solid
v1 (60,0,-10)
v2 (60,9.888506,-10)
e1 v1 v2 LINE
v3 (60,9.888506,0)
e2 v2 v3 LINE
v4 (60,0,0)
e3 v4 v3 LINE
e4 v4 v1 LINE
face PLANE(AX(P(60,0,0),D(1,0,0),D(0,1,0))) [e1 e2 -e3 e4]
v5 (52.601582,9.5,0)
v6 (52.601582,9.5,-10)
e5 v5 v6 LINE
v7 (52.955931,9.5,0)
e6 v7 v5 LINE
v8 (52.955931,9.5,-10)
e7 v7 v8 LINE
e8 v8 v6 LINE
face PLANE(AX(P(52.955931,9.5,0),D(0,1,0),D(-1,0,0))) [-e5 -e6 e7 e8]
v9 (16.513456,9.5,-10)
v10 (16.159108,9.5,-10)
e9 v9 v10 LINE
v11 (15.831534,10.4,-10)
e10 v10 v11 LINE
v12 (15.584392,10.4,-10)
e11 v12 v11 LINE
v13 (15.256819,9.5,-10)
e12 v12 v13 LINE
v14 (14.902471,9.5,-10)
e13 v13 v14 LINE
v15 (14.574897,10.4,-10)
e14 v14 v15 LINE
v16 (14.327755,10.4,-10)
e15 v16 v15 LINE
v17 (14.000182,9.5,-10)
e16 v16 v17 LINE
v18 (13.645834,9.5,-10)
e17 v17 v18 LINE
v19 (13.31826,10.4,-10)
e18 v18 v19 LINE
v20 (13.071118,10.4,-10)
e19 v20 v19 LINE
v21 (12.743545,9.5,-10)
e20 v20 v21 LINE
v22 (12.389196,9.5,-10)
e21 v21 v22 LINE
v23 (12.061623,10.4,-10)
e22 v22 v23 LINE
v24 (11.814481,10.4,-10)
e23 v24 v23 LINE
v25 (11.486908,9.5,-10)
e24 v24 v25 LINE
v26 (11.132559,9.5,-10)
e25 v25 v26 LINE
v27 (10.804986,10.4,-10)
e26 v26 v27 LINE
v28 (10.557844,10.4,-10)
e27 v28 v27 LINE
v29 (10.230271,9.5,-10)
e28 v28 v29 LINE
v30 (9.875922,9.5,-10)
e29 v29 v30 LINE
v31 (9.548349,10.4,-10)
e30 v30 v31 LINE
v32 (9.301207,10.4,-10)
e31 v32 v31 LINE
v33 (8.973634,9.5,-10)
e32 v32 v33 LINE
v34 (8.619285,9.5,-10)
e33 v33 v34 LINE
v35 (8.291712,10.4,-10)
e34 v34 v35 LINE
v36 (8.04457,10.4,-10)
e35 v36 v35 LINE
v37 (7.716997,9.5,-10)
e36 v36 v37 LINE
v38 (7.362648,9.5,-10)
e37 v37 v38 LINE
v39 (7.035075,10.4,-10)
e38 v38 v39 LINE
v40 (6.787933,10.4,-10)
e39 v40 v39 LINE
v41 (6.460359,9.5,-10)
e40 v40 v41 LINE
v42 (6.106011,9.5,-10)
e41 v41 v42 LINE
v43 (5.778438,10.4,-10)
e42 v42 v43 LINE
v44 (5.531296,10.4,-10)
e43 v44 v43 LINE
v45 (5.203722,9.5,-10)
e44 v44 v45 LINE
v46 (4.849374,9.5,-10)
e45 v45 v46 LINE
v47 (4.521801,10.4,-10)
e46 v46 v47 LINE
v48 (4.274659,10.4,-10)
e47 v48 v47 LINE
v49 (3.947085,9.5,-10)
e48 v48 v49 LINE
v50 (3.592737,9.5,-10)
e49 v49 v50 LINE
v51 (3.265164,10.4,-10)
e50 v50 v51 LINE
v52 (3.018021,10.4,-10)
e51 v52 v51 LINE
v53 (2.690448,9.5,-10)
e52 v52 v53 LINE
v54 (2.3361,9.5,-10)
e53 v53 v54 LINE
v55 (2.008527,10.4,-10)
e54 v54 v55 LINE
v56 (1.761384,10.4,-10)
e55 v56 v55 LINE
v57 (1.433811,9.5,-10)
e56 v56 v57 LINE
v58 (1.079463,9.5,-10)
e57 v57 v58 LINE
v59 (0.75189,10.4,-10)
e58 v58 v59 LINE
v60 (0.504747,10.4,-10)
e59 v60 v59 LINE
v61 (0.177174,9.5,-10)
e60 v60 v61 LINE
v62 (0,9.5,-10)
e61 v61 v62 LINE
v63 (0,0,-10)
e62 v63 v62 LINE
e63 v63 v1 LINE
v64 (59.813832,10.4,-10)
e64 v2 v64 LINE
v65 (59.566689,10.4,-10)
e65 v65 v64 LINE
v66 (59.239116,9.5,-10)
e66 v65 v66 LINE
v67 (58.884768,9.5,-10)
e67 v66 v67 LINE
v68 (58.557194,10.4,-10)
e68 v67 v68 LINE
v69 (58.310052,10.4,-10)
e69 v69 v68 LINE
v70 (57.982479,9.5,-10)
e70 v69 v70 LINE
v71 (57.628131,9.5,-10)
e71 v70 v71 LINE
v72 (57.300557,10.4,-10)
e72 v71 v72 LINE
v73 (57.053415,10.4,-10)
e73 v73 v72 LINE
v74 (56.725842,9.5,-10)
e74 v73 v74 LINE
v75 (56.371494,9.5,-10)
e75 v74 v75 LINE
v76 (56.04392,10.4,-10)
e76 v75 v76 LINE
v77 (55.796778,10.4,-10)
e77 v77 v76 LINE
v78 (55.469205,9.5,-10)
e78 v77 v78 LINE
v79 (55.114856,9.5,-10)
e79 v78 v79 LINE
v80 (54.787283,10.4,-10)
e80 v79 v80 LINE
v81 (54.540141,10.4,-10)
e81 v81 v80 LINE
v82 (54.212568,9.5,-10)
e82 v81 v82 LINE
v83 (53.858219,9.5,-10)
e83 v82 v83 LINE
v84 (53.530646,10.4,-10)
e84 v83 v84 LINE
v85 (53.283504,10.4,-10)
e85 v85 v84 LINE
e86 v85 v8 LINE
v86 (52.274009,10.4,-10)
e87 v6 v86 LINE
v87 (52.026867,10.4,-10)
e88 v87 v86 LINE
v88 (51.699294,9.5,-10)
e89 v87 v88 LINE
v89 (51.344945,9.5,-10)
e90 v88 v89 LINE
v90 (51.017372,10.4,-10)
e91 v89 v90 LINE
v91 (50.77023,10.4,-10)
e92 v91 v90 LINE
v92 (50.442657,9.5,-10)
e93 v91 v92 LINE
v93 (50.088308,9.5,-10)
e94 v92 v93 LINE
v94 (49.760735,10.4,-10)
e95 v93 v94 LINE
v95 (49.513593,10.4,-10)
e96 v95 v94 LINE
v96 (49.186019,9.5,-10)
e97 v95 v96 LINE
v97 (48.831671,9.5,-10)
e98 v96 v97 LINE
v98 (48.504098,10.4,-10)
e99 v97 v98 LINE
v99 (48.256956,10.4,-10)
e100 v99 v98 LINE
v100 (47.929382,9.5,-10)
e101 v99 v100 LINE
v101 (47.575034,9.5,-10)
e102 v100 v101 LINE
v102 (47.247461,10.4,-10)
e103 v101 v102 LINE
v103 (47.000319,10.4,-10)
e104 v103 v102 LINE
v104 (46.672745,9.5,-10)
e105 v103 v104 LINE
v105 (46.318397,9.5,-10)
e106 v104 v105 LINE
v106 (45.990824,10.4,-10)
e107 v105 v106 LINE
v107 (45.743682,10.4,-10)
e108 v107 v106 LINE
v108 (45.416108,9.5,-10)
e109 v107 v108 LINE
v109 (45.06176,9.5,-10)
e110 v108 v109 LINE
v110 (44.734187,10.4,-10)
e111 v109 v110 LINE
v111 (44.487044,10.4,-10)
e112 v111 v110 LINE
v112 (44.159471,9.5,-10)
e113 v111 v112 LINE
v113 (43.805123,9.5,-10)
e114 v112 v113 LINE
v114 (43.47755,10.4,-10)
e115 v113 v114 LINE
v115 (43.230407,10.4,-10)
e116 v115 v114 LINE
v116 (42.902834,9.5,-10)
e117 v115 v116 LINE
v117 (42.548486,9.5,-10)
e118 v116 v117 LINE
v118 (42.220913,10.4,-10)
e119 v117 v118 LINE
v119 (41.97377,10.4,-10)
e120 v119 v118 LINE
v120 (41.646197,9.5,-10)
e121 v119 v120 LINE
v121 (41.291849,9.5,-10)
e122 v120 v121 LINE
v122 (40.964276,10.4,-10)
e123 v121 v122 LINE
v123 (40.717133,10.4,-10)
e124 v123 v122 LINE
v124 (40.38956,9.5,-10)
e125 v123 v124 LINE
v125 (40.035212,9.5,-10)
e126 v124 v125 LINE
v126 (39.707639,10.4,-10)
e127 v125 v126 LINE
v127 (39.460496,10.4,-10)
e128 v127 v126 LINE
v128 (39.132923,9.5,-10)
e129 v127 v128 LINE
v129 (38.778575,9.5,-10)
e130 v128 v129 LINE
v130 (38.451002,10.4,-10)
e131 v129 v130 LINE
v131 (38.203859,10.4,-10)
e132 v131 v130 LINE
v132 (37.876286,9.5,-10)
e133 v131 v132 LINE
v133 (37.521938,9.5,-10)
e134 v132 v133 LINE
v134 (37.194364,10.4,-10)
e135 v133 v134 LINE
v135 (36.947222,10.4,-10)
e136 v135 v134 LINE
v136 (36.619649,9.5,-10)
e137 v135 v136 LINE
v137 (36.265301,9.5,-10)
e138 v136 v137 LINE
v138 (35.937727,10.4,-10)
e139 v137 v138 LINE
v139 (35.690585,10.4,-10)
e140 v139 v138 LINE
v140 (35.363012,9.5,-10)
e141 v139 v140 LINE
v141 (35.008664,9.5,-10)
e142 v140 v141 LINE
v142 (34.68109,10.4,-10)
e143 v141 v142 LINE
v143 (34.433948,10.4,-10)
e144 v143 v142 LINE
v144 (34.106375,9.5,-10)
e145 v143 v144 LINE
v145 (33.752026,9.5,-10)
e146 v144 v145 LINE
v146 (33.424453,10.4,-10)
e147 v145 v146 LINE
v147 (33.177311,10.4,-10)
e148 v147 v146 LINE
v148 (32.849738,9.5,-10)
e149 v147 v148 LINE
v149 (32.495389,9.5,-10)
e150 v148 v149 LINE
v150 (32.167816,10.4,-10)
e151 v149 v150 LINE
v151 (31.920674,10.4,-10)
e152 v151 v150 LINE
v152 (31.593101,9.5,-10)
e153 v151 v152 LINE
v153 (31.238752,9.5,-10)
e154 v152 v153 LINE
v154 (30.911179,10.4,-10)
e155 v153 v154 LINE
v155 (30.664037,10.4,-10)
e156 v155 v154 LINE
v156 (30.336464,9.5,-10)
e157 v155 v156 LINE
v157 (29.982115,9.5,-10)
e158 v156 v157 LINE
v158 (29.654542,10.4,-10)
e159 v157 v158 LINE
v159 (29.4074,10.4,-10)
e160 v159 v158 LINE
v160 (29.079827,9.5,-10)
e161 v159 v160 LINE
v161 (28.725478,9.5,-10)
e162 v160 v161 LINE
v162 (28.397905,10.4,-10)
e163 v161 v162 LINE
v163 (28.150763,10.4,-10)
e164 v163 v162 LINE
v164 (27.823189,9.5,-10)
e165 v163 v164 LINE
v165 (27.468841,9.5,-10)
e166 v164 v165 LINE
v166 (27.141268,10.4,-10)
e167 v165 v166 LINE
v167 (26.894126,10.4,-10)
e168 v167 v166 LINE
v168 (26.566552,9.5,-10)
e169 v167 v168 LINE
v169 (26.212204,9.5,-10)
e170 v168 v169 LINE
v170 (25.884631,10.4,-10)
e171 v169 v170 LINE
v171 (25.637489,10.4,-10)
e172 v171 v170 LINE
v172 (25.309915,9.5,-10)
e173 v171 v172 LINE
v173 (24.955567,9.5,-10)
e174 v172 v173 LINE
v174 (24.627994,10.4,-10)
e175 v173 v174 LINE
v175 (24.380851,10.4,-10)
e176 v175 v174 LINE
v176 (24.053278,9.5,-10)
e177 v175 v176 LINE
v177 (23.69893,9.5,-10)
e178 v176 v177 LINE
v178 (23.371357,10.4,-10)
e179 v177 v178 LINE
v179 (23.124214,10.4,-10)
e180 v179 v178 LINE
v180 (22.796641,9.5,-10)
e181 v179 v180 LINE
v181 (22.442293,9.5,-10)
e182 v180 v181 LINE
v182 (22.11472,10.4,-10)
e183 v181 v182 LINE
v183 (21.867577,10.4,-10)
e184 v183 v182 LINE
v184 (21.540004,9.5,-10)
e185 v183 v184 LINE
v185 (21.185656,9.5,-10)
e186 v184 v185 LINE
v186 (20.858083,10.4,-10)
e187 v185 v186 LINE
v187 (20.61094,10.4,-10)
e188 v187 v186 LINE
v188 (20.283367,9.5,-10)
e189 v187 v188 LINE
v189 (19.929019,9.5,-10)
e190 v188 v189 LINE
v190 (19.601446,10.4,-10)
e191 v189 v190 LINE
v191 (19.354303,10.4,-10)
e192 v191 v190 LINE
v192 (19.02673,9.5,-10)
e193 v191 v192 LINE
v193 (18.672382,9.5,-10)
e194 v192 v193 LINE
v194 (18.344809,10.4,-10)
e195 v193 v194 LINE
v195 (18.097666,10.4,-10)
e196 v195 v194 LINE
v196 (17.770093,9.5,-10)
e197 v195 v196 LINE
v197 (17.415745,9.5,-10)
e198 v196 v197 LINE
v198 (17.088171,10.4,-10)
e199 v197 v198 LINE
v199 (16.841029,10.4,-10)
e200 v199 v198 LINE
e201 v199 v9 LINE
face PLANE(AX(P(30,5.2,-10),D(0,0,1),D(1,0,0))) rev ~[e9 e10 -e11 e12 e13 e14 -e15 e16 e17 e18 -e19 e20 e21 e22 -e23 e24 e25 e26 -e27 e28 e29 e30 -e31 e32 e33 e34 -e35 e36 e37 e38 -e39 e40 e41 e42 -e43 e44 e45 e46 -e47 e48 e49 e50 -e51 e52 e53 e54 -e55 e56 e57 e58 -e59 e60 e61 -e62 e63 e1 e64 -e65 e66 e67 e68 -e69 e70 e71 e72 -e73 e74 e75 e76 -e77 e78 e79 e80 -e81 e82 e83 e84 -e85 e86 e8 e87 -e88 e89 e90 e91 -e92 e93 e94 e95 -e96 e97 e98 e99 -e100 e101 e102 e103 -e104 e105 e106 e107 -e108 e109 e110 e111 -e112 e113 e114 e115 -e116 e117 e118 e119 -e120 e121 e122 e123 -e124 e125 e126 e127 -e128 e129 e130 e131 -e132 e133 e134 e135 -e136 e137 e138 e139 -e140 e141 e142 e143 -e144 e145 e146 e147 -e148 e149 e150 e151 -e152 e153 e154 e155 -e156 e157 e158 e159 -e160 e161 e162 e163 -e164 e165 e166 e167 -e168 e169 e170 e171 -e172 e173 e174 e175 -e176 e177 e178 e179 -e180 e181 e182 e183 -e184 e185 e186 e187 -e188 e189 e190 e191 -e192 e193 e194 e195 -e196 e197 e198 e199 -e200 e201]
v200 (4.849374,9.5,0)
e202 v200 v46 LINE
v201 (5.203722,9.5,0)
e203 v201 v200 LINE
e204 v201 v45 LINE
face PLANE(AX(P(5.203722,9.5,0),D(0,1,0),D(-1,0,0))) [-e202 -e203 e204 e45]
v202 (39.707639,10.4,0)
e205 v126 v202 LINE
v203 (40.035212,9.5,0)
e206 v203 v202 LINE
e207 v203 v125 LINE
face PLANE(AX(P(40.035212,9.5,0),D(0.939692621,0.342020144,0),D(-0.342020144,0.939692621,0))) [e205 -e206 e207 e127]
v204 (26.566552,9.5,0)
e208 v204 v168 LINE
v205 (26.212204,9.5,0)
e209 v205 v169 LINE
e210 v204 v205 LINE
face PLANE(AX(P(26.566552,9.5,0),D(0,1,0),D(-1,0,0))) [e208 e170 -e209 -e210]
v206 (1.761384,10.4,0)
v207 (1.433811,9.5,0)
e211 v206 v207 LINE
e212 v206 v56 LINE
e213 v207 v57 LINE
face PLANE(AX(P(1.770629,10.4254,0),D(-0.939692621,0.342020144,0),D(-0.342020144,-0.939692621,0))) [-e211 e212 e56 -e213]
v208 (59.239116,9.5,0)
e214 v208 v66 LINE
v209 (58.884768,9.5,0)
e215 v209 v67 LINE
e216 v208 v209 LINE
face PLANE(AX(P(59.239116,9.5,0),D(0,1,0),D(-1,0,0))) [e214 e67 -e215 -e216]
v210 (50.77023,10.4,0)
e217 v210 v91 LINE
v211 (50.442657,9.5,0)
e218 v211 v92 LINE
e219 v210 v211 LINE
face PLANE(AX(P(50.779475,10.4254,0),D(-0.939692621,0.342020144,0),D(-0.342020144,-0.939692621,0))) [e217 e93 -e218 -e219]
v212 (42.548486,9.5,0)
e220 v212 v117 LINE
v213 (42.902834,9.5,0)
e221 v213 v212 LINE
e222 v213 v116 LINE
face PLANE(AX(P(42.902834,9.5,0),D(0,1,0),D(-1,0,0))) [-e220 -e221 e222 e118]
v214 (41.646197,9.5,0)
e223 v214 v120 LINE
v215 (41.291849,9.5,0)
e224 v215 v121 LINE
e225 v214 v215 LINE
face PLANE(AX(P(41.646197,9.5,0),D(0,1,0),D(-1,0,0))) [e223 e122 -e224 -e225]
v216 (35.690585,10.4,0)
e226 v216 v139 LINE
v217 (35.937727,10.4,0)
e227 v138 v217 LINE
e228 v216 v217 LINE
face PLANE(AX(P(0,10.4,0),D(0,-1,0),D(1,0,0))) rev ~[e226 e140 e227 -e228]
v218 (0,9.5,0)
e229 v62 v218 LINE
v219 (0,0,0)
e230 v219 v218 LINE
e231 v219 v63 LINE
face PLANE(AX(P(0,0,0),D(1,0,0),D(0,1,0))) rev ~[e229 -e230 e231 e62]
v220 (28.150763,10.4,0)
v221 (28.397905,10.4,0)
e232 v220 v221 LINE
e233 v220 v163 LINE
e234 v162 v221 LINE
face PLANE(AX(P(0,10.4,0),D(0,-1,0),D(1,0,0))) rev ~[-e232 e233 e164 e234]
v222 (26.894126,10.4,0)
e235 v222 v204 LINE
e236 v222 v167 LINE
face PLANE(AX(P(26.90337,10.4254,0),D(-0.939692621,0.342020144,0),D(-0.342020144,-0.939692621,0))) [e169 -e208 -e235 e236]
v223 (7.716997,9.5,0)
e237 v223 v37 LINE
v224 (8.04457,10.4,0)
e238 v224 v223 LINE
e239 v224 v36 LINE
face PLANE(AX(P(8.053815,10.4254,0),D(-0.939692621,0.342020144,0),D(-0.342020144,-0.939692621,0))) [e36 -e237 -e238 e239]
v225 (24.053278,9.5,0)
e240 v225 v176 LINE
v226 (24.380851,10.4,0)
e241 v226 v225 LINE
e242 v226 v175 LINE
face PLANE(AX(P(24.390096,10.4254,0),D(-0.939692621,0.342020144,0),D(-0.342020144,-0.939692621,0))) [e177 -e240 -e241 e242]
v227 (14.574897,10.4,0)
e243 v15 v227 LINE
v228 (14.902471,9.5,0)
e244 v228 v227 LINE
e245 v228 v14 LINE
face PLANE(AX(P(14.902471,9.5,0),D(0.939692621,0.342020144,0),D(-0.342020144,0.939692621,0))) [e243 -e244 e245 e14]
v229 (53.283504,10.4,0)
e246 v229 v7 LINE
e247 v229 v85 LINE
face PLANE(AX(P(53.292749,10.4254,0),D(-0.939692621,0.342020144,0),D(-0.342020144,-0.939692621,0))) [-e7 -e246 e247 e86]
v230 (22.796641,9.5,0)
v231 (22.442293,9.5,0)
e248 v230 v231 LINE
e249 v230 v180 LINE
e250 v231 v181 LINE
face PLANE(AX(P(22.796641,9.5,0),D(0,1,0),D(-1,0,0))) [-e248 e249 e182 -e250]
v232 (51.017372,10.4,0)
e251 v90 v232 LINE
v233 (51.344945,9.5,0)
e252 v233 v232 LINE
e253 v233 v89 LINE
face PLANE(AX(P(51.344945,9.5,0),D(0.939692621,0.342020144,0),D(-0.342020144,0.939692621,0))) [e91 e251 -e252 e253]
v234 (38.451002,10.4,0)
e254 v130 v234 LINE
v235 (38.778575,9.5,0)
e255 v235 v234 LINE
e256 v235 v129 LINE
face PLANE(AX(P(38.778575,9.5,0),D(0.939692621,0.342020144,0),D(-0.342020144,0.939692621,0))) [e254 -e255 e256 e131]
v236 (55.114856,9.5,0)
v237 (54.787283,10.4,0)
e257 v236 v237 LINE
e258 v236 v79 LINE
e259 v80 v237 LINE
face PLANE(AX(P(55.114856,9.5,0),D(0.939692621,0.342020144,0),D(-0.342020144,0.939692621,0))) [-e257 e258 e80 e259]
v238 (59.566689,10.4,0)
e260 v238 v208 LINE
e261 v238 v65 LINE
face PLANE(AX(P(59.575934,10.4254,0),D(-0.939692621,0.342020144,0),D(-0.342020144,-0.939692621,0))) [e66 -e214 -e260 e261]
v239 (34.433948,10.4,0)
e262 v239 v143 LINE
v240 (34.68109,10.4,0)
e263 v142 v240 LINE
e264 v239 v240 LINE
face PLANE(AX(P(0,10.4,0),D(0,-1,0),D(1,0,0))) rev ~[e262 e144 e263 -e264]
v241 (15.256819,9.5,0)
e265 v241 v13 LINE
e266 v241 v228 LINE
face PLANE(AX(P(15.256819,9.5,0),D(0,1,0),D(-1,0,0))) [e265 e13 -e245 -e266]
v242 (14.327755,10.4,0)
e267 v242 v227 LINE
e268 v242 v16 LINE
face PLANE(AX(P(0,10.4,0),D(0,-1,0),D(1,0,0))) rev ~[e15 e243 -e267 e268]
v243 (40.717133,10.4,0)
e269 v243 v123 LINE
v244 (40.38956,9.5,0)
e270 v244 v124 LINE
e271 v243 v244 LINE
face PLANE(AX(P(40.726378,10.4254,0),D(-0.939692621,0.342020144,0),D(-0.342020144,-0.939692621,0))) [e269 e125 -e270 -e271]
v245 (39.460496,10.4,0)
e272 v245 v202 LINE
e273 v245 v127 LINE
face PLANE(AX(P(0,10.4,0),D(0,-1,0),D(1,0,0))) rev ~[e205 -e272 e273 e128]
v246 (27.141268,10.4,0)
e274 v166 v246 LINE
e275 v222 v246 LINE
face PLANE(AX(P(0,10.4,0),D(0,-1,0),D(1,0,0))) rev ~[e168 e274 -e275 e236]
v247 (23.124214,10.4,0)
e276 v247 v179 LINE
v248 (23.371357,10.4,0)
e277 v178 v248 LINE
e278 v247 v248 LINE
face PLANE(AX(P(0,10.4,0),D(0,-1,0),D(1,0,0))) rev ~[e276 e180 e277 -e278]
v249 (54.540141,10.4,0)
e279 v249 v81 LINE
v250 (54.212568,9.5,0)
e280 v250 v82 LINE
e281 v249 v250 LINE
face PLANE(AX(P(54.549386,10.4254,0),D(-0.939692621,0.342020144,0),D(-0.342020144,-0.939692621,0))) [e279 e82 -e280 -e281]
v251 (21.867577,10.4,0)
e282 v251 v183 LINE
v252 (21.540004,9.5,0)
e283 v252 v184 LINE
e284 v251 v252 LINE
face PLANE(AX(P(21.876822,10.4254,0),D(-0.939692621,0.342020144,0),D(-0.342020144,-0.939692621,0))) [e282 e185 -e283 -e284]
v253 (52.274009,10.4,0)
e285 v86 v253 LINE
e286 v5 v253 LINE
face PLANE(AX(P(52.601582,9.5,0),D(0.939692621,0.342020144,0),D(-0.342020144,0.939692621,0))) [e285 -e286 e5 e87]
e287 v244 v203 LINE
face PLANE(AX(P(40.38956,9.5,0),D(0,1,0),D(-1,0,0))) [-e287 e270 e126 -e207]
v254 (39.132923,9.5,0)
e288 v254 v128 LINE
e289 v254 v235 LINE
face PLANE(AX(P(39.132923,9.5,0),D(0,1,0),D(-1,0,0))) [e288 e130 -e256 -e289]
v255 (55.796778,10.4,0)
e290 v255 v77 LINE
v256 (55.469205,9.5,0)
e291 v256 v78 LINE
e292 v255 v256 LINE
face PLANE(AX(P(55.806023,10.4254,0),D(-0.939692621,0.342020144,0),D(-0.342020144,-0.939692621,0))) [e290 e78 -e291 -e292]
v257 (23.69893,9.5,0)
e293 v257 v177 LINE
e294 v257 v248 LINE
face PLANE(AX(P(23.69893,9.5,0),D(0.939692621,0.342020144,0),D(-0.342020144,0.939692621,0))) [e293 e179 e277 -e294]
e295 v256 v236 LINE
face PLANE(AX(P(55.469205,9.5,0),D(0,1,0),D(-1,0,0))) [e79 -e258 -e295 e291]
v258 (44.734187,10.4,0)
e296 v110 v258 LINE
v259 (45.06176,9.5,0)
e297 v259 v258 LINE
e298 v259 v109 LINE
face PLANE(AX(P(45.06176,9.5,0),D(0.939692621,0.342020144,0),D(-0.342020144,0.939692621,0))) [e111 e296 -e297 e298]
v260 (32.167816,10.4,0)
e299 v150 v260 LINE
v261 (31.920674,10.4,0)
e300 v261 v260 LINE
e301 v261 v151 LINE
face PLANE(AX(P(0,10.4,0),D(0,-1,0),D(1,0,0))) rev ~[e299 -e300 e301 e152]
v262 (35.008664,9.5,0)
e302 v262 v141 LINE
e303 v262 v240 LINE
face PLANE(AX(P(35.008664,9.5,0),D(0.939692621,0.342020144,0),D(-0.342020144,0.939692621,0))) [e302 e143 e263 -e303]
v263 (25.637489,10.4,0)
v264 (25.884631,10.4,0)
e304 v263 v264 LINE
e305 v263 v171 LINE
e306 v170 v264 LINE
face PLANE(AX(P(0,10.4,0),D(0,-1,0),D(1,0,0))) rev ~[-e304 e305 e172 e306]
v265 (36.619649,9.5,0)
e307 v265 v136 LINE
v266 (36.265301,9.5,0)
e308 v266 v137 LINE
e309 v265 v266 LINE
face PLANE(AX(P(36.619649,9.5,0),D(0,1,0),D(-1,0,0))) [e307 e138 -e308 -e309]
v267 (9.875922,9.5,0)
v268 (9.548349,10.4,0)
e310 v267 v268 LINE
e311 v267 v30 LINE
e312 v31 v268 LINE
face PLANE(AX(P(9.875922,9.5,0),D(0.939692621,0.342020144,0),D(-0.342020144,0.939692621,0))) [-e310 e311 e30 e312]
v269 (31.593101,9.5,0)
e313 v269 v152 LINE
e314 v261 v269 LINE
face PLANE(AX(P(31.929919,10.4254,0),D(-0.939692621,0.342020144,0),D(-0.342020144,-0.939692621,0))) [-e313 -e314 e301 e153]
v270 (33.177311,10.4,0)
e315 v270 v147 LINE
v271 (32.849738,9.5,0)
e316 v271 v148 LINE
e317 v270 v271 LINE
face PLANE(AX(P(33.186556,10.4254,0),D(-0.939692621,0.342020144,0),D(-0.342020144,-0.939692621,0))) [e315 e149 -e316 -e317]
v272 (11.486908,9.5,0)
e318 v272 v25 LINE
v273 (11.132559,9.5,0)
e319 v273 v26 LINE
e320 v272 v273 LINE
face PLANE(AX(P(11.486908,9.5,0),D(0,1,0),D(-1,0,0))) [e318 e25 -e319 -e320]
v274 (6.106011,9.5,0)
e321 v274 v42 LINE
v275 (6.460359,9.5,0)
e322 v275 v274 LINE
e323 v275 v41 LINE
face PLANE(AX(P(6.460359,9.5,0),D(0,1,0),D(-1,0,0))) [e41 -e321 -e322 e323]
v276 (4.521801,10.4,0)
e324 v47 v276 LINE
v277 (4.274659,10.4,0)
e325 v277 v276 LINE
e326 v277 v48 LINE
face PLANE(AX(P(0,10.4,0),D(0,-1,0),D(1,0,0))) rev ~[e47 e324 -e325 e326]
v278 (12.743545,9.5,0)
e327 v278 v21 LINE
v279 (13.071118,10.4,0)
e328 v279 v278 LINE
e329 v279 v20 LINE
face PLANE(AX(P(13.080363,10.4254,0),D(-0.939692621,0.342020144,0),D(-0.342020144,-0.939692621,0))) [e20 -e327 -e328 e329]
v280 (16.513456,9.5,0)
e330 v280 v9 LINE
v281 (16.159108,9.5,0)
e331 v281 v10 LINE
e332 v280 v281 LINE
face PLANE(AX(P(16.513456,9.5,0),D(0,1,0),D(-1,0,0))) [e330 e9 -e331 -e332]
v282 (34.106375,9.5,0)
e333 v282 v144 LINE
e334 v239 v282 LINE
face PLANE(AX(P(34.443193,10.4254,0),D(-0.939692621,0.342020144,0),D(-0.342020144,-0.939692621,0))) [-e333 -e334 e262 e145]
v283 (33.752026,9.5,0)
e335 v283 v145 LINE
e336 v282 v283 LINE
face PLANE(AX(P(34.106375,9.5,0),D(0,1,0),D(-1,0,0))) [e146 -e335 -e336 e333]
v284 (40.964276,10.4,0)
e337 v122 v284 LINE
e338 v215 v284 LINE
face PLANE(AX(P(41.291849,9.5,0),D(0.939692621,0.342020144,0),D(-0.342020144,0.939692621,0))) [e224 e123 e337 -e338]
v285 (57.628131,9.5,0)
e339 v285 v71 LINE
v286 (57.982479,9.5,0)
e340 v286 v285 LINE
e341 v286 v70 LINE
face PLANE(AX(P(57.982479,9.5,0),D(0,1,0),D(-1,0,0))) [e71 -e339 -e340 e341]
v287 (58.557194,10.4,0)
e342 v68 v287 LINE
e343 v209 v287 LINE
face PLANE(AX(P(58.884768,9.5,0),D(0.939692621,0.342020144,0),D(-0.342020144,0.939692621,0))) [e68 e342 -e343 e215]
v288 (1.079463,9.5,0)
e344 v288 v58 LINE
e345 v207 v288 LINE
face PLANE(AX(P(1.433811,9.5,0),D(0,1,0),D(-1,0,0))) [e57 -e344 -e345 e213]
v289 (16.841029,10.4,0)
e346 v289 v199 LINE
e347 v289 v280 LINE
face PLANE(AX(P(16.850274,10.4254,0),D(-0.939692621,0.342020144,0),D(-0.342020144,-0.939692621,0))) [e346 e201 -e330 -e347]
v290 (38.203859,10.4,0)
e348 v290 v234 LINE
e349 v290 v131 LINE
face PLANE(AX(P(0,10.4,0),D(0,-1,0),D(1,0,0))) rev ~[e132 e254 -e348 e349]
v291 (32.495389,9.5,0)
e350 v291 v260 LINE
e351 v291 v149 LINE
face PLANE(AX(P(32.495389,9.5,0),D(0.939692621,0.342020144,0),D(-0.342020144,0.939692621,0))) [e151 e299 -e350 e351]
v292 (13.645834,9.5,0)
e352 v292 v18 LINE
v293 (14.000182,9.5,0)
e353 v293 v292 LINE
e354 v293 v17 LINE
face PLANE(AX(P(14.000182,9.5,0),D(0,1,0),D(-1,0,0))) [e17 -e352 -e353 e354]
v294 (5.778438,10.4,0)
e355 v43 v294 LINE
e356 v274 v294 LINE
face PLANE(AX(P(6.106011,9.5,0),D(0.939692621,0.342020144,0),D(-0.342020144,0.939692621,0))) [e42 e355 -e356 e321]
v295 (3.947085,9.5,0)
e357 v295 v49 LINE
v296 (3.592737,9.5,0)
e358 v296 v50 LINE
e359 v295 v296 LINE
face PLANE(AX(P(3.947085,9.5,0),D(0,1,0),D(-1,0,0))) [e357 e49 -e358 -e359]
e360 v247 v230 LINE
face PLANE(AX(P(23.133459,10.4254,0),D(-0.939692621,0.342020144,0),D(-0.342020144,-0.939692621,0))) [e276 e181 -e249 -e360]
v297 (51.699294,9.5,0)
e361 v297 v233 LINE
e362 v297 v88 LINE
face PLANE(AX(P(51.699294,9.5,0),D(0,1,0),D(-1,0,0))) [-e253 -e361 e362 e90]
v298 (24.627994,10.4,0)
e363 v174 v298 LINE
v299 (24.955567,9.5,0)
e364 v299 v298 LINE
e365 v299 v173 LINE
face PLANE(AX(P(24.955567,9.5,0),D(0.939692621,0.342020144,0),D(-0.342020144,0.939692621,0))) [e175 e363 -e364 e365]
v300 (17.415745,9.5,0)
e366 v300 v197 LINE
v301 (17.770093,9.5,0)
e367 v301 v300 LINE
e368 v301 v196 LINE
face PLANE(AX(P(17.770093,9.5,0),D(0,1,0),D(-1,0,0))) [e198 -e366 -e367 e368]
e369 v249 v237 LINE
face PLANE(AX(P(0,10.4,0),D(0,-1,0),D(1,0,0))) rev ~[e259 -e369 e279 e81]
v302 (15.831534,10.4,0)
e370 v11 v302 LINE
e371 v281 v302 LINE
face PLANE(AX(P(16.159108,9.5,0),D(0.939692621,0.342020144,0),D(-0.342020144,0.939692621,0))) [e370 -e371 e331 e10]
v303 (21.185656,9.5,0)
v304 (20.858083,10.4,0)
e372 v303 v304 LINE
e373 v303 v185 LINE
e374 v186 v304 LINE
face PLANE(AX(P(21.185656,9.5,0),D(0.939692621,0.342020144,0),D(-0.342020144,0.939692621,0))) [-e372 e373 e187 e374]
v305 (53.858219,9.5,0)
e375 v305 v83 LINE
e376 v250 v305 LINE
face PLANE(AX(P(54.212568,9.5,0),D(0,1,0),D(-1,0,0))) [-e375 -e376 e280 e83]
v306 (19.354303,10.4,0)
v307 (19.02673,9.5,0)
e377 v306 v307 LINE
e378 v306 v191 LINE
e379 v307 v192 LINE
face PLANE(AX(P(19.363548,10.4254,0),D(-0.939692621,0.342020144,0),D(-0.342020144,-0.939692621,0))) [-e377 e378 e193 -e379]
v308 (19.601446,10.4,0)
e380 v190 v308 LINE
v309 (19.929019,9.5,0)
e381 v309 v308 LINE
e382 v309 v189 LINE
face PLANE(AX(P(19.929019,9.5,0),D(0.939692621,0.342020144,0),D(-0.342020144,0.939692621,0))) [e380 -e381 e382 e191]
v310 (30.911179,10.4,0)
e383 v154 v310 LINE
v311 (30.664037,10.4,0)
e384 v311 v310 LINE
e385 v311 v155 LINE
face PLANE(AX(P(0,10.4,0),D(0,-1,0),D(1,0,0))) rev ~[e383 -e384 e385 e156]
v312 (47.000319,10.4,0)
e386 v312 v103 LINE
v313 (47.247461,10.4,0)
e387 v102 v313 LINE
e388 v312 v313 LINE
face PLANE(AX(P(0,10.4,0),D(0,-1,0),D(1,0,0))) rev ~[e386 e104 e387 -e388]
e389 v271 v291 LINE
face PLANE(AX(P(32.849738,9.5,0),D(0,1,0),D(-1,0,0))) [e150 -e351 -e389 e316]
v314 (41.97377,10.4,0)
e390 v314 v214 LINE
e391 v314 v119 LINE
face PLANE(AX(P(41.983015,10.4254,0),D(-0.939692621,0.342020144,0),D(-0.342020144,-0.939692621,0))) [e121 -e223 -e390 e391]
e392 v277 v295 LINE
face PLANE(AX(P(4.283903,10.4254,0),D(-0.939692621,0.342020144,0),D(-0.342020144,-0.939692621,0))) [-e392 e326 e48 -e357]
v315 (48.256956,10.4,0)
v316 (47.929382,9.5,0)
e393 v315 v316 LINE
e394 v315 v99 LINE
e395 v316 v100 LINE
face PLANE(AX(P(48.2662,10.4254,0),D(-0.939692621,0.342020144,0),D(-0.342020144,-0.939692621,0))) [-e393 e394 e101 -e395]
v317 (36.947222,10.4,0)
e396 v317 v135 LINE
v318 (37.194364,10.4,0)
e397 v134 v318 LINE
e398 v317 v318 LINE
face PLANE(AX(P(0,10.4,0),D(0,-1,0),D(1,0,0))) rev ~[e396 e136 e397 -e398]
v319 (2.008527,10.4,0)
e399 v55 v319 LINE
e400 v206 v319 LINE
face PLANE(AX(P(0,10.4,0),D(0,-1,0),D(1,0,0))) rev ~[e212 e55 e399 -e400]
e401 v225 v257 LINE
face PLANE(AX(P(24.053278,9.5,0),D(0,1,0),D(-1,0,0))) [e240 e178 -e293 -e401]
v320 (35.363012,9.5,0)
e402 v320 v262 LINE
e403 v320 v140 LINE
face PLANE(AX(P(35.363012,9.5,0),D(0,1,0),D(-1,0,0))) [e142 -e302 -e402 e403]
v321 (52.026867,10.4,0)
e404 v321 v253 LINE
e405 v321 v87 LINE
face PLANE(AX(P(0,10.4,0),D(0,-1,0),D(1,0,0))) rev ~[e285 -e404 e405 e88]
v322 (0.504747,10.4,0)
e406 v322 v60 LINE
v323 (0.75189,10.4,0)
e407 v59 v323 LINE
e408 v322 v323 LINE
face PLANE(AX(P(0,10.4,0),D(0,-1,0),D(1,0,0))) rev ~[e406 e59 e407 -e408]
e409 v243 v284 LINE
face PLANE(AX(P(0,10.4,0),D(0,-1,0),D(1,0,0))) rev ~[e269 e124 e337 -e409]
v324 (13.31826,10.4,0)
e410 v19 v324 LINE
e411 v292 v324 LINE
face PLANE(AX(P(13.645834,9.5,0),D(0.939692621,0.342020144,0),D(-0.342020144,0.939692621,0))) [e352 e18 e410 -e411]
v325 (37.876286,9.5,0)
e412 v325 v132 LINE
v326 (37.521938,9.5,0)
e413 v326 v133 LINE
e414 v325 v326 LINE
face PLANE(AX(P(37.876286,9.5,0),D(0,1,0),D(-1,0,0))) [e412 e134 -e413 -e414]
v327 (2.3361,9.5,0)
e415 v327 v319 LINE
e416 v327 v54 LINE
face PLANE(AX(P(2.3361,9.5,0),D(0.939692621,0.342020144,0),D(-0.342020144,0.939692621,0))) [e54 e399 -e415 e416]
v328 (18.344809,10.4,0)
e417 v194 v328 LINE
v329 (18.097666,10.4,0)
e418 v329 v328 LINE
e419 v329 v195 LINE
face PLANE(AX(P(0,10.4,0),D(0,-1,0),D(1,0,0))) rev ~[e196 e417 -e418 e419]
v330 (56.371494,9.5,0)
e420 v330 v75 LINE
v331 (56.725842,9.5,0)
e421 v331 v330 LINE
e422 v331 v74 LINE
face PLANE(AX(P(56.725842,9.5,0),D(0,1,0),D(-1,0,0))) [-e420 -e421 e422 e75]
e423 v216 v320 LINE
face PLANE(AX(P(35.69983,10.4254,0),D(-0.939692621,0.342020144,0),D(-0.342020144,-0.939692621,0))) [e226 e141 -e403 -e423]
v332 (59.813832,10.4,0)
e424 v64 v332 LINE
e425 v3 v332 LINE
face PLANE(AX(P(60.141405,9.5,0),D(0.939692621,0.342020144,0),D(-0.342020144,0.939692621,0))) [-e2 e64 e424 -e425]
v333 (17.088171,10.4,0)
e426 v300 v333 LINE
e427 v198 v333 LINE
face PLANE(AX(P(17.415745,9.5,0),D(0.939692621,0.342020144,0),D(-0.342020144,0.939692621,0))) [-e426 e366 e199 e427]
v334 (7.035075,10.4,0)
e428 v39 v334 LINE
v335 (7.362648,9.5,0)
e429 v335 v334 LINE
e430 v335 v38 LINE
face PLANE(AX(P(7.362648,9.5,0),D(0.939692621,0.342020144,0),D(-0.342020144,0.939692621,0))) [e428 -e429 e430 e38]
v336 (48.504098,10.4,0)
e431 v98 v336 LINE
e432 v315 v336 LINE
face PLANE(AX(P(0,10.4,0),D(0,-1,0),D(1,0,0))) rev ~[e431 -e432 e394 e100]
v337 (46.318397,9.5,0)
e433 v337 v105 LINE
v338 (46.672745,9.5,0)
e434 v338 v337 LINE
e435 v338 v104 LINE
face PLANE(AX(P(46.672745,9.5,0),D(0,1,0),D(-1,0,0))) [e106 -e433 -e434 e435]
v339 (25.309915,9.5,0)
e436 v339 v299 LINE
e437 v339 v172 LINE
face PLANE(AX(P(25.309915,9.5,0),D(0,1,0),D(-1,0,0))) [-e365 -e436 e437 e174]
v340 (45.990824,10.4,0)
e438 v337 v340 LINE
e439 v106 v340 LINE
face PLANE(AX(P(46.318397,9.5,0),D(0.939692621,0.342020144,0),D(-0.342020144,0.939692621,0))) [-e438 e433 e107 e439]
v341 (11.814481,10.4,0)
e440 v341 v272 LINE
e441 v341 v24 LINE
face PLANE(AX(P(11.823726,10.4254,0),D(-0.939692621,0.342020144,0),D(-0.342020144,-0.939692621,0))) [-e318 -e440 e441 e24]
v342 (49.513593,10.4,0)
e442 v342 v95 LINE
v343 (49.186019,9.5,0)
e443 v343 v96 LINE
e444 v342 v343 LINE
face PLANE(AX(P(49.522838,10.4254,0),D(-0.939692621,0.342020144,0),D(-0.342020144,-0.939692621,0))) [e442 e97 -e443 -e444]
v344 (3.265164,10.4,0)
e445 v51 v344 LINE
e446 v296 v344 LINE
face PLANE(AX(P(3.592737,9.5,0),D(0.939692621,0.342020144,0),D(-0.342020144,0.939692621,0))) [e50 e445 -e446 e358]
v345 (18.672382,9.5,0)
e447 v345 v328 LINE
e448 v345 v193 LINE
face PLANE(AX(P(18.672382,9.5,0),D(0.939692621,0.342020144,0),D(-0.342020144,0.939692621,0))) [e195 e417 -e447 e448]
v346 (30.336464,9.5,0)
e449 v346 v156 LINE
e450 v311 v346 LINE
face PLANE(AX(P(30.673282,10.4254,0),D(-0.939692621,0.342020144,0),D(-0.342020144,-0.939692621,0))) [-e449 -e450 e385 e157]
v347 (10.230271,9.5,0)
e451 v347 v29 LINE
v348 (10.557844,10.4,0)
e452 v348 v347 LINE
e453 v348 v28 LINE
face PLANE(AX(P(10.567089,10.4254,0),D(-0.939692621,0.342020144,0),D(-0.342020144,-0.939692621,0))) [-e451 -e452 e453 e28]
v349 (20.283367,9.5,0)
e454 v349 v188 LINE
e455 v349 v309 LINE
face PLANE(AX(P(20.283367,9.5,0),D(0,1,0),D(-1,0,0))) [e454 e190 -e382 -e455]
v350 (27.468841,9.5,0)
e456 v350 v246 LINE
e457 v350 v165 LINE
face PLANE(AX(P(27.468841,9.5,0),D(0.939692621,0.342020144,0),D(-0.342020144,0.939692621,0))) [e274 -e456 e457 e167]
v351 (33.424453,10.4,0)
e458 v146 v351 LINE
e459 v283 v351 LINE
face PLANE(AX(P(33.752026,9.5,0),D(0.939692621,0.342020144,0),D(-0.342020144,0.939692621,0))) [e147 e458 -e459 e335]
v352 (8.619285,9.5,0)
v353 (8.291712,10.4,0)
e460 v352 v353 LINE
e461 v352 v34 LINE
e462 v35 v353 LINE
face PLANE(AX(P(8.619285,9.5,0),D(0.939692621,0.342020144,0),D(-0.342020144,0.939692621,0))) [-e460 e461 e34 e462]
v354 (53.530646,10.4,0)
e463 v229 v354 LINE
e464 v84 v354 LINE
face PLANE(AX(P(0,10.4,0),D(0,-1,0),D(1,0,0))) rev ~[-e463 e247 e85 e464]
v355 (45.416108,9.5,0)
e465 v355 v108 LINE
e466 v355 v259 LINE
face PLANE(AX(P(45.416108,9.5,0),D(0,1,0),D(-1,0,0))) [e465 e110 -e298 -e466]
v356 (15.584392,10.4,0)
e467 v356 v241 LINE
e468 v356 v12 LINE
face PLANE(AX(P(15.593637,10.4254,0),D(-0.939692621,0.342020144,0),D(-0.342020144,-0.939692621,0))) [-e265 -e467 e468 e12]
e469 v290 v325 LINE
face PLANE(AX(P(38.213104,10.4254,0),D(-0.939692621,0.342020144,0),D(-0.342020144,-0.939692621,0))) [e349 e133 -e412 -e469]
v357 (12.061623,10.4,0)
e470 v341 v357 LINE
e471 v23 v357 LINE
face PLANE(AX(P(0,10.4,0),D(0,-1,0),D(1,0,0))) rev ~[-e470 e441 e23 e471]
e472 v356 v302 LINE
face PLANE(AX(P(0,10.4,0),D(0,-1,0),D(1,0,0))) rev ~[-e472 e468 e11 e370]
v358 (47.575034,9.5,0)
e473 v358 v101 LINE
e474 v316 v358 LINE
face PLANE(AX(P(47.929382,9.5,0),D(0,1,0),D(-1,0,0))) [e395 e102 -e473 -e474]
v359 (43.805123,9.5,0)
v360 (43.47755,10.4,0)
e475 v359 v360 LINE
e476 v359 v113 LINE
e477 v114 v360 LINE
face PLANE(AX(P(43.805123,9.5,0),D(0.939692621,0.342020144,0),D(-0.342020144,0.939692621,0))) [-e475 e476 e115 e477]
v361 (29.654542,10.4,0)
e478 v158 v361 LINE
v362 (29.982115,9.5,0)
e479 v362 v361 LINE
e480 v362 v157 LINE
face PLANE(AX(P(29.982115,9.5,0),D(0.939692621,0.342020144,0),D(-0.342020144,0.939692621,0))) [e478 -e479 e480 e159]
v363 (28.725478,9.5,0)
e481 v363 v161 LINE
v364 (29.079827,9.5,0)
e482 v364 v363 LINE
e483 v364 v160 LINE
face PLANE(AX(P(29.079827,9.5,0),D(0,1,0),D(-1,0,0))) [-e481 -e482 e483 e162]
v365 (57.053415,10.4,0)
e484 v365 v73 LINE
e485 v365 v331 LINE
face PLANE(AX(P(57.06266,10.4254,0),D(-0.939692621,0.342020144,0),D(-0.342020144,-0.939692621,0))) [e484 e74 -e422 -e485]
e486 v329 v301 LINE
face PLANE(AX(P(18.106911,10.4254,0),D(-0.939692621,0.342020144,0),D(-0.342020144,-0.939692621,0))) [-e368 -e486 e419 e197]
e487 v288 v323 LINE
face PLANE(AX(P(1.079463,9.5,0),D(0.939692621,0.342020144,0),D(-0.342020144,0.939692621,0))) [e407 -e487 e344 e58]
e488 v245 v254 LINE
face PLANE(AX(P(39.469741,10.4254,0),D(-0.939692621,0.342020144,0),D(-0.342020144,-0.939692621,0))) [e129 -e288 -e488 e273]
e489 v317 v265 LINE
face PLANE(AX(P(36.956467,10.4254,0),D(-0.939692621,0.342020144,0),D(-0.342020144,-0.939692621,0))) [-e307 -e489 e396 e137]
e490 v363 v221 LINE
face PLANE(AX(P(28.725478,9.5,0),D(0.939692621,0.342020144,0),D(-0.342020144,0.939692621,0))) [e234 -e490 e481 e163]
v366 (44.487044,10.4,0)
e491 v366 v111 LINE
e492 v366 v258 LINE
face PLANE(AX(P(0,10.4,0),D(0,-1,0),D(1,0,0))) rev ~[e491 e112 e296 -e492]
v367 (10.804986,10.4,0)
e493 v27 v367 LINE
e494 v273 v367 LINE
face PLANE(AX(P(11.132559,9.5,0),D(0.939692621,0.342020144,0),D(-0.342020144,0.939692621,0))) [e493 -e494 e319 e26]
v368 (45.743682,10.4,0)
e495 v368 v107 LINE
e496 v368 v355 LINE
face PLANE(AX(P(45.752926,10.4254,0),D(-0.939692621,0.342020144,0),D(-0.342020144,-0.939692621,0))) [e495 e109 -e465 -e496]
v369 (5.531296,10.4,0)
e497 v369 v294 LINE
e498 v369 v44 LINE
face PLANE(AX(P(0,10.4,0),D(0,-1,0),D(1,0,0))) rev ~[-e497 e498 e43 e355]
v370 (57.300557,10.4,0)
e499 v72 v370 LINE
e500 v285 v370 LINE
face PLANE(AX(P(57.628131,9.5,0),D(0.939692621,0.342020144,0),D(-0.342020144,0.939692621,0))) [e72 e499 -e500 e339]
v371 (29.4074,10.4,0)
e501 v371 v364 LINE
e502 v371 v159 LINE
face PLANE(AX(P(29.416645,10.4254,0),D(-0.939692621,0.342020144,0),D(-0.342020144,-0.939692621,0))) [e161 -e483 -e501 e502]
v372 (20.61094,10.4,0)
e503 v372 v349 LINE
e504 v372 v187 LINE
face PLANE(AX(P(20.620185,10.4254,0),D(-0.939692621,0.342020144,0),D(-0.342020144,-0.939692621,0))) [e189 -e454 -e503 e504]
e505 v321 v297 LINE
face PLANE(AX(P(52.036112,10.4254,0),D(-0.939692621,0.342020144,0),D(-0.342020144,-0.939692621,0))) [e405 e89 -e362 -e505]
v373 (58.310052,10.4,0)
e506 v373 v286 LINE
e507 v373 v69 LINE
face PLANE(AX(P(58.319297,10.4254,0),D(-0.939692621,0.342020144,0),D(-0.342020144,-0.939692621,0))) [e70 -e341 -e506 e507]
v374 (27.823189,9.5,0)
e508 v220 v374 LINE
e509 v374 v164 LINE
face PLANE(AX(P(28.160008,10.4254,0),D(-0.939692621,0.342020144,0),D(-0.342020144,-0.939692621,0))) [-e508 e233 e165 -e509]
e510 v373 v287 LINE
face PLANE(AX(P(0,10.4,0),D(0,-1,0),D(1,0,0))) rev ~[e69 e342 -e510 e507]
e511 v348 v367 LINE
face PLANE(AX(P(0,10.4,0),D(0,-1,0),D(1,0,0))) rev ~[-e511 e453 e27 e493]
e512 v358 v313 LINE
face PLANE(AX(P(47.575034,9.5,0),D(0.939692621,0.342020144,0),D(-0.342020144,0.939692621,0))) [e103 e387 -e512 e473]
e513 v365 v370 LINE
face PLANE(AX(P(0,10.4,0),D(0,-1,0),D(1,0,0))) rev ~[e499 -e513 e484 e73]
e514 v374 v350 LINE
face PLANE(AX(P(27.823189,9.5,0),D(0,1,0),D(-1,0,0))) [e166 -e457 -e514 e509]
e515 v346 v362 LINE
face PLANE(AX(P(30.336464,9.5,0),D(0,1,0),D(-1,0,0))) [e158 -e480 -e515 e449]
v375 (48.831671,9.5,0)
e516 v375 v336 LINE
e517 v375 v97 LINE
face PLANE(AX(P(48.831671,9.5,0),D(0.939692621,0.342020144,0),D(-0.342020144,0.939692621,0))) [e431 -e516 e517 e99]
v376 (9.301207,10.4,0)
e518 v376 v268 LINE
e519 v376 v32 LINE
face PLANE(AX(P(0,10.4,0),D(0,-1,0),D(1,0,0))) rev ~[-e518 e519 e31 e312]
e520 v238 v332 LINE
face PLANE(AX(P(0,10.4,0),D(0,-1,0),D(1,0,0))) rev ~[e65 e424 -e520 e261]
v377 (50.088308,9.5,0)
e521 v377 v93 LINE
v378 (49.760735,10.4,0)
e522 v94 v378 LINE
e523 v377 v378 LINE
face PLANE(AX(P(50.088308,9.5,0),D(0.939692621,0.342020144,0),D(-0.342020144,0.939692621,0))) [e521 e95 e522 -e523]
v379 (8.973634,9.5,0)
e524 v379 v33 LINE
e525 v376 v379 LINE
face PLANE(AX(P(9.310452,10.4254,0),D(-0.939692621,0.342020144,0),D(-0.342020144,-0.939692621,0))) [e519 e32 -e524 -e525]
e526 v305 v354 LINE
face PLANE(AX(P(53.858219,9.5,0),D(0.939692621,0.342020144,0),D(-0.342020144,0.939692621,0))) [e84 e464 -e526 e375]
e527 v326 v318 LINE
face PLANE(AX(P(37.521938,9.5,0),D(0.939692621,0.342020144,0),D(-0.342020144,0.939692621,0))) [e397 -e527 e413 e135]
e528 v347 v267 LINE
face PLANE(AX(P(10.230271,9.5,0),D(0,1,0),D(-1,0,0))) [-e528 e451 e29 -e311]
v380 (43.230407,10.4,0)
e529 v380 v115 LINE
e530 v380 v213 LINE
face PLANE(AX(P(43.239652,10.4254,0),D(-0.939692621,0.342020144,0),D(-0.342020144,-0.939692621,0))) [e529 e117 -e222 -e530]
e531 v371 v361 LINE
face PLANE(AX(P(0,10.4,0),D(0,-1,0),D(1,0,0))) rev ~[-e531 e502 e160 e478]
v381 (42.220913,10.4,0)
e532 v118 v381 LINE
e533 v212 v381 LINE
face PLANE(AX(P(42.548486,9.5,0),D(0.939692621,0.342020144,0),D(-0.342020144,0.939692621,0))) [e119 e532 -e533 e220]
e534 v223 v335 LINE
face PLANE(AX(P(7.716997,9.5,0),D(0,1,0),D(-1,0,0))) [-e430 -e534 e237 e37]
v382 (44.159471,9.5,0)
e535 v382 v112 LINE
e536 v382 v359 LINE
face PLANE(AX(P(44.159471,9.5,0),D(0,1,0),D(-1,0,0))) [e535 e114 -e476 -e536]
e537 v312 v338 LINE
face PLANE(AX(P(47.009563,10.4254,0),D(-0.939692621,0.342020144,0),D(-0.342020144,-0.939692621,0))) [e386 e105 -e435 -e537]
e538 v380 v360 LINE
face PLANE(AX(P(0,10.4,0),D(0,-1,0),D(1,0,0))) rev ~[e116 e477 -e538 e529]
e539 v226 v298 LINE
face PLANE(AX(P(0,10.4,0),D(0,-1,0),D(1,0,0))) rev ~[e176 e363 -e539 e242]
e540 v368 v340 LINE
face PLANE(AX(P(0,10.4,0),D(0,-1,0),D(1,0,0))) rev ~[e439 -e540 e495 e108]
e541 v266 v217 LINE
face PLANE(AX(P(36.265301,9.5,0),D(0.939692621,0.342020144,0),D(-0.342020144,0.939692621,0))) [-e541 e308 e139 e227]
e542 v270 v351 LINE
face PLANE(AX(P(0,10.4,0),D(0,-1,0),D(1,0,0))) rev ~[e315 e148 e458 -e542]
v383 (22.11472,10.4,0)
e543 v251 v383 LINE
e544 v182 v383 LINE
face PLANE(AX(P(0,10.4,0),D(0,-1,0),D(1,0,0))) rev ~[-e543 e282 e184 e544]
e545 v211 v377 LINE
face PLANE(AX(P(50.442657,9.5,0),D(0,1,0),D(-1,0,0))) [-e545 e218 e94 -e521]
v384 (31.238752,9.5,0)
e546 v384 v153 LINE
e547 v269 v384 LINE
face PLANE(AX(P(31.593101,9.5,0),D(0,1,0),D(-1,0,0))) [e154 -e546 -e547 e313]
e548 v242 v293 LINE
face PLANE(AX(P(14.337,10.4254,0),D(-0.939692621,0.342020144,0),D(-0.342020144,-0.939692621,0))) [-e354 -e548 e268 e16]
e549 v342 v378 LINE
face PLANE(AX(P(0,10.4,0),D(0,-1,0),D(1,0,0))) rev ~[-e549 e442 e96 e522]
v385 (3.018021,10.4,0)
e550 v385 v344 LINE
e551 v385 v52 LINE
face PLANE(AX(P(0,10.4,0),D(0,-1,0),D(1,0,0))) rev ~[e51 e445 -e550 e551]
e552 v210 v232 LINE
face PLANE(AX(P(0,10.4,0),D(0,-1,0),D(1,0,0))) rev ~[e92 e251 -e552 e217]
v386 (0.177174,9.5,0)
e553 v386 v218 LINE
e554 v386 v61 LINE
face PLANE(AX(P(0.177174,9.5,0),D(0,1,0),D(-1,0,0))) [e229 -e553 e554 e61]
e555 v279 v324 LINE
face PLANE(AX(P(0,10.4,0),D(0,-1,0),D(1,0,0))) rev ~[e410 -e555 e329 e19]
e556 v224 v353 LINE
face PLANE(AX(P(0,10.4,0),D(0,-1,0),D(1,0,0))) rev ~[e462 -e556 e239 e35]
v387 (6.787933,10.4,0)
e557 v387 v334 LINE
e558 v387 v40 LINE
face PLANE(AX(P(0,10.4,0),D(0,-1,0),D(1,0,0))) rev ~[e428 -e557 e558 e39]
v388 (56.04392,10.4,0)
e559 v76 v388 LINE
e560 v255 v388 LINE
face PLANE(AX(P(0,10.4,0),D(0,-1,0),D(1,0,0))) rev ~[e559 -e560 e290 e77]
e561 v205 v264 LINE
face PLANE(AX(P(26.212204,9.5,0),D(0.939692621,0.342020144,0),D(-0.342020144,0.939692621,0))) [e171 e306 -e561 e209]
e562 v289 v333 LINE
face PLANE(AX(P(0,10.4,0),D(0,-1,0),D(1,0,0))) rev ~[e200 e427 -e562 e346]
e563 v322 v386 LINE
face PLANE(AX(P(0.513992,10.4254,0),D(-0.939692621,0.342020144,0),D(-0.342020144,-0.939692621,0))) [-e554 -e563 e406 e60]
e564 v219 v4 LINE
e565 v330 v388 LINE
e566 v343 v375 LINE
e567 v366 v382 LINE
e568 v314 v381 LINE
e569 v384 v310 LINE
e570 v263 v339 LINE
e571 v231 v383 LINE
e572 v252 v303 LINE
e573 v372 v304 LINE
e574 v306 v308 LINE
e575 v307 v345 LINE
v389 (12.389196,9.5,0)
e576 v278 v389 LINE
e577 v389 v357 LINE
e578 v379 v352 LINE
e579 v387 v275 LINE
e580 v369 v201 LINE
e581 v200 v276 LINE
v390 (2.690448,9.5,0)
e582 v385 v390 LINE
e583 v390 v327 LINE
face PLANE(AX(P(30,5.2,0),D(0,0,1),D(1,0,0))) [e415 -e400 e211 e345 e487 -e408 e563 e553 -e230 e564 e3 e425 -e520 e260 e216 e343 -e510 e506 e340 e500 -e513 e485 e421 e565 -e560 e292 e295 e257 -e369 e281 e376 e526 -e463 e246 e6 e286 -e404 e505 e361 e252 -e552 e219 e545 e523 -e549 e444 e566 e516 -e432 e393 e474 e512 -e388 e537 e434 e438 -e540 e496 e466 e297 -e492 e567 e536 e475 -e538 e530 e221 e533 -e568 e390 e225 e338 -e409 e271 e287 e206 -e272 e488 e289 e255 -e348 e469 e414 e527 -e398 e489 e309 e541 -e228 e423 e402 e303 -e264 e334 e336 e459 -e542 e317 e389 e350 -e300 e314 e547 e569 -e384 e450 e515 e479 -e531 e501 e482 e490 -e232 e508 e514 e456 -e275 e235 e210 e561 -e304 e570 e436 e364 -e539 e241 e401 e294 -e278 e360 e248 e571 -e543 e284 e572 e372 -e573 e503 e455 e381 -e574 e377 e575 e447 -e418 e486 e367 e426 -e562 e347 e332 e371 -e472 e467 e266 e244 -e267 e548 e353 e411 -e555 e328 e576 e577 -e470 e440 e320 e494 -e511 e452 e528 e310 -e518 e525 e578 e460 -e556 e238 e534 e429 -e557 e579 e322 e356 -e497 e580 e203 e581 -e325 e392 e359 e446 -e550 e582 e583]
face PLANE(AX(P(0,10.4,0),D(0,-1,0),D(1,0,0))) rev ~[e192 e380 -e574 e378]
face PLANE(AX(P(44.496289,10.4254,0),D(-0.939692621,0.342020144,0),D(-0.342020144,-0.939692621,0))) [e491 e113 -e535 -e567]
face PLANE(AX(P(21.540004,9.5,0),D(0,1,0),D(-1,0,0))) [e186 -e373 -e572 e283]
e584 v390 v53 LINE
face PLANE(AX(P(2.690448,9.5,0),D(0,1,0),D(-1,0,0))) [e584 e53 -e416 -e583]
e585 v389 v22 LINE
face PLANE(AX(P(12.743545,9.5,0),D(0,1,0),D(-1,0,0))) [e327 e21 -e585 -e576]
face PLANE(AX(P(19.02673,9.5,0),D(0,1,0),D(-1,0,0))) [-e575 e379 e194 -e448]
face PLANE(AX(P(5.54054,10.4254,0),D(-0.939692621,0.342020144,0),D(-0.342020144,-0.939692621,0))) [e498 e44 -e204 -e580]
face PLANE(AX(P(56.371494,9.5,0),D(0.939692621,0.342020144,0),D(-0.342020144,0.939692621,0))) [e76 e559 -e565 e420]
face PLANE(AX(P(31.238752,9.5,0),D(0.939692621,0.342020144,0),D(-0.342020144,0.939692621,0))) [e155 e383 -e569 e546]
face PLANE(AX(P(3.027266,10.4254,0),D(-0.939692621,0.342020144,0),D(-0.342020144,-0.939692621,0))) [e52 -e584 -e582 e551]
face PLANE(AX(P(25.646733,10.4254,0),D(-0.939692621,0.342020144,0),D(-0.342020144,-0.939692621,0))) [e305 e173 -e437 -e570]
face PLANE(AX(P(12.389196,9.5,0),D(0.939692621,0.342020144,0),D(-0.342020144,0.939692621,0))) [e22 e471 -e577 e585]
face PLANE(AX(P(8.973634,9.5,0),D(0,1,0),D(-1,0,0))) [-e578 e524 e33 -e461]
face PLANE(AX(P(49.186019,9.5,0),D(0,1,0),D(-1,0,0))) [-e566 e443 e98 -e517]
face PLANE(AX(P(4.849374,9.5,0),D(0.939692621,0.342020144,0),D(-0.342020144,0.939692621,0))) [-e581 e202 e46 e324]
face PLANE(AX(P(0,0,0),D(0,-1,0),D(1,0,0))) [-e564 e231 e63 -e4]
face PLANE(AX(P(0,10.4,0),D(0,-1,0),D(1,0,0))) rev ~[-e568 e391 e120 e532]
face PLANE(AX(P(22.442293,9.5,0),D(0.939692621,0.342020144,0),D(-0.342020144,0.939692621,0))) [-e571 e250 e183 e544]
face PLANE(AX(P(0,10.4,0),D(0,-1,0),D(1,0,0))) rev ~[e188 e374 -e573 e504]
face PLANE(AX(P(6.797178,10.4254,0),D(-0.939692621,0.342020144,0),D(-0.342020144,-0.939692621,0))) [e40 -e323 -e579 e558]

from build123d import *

# Parameters (mm, degrees)
BLANKSKE_W        = 60
BLANKSKE_H        = 10.4
BLANK_DEPTH       = 10
TOOTHCUTSIM_DEPTH = 62.710290876
TEETHCUTS_COUNT   = 49
TEETHCUTS_PITCH   = 1.25663706


with BuildPart() as part:
    # BlankSke → Blank (new body)
    with BuildSketch(Plane.XY):
        with Locations((30, 5.2)):
            Rectangle(BLANKSKE_W, BLANKSKE_H)
    extrude(amount=-BLANK_DEPTH)

    # TooCutSkeSim → ToothCutSim (cut, through all)
    with BuildSketch(Plane.XY):
        Polygon((0.177174148, 9.5), (-0.177174148, 9.5), (-0.513992203, 10.4254), (0.513992203, 10.4254), align=None)
    toothcutsim = extrude(amount=-TOOTHCUTSIM_DEPTH, mode=Mode.SUBTRACT)

    # TeethCuts: ToothCutSim ×49
    with Locations(*[(i * TEETHCUTS_PITCH, 0, 0) for i in range(1, TEETHCUTS_COUNT)]):
        add(toothcutsim, mode=Mode.SUBTRACT)


solid = part.part
